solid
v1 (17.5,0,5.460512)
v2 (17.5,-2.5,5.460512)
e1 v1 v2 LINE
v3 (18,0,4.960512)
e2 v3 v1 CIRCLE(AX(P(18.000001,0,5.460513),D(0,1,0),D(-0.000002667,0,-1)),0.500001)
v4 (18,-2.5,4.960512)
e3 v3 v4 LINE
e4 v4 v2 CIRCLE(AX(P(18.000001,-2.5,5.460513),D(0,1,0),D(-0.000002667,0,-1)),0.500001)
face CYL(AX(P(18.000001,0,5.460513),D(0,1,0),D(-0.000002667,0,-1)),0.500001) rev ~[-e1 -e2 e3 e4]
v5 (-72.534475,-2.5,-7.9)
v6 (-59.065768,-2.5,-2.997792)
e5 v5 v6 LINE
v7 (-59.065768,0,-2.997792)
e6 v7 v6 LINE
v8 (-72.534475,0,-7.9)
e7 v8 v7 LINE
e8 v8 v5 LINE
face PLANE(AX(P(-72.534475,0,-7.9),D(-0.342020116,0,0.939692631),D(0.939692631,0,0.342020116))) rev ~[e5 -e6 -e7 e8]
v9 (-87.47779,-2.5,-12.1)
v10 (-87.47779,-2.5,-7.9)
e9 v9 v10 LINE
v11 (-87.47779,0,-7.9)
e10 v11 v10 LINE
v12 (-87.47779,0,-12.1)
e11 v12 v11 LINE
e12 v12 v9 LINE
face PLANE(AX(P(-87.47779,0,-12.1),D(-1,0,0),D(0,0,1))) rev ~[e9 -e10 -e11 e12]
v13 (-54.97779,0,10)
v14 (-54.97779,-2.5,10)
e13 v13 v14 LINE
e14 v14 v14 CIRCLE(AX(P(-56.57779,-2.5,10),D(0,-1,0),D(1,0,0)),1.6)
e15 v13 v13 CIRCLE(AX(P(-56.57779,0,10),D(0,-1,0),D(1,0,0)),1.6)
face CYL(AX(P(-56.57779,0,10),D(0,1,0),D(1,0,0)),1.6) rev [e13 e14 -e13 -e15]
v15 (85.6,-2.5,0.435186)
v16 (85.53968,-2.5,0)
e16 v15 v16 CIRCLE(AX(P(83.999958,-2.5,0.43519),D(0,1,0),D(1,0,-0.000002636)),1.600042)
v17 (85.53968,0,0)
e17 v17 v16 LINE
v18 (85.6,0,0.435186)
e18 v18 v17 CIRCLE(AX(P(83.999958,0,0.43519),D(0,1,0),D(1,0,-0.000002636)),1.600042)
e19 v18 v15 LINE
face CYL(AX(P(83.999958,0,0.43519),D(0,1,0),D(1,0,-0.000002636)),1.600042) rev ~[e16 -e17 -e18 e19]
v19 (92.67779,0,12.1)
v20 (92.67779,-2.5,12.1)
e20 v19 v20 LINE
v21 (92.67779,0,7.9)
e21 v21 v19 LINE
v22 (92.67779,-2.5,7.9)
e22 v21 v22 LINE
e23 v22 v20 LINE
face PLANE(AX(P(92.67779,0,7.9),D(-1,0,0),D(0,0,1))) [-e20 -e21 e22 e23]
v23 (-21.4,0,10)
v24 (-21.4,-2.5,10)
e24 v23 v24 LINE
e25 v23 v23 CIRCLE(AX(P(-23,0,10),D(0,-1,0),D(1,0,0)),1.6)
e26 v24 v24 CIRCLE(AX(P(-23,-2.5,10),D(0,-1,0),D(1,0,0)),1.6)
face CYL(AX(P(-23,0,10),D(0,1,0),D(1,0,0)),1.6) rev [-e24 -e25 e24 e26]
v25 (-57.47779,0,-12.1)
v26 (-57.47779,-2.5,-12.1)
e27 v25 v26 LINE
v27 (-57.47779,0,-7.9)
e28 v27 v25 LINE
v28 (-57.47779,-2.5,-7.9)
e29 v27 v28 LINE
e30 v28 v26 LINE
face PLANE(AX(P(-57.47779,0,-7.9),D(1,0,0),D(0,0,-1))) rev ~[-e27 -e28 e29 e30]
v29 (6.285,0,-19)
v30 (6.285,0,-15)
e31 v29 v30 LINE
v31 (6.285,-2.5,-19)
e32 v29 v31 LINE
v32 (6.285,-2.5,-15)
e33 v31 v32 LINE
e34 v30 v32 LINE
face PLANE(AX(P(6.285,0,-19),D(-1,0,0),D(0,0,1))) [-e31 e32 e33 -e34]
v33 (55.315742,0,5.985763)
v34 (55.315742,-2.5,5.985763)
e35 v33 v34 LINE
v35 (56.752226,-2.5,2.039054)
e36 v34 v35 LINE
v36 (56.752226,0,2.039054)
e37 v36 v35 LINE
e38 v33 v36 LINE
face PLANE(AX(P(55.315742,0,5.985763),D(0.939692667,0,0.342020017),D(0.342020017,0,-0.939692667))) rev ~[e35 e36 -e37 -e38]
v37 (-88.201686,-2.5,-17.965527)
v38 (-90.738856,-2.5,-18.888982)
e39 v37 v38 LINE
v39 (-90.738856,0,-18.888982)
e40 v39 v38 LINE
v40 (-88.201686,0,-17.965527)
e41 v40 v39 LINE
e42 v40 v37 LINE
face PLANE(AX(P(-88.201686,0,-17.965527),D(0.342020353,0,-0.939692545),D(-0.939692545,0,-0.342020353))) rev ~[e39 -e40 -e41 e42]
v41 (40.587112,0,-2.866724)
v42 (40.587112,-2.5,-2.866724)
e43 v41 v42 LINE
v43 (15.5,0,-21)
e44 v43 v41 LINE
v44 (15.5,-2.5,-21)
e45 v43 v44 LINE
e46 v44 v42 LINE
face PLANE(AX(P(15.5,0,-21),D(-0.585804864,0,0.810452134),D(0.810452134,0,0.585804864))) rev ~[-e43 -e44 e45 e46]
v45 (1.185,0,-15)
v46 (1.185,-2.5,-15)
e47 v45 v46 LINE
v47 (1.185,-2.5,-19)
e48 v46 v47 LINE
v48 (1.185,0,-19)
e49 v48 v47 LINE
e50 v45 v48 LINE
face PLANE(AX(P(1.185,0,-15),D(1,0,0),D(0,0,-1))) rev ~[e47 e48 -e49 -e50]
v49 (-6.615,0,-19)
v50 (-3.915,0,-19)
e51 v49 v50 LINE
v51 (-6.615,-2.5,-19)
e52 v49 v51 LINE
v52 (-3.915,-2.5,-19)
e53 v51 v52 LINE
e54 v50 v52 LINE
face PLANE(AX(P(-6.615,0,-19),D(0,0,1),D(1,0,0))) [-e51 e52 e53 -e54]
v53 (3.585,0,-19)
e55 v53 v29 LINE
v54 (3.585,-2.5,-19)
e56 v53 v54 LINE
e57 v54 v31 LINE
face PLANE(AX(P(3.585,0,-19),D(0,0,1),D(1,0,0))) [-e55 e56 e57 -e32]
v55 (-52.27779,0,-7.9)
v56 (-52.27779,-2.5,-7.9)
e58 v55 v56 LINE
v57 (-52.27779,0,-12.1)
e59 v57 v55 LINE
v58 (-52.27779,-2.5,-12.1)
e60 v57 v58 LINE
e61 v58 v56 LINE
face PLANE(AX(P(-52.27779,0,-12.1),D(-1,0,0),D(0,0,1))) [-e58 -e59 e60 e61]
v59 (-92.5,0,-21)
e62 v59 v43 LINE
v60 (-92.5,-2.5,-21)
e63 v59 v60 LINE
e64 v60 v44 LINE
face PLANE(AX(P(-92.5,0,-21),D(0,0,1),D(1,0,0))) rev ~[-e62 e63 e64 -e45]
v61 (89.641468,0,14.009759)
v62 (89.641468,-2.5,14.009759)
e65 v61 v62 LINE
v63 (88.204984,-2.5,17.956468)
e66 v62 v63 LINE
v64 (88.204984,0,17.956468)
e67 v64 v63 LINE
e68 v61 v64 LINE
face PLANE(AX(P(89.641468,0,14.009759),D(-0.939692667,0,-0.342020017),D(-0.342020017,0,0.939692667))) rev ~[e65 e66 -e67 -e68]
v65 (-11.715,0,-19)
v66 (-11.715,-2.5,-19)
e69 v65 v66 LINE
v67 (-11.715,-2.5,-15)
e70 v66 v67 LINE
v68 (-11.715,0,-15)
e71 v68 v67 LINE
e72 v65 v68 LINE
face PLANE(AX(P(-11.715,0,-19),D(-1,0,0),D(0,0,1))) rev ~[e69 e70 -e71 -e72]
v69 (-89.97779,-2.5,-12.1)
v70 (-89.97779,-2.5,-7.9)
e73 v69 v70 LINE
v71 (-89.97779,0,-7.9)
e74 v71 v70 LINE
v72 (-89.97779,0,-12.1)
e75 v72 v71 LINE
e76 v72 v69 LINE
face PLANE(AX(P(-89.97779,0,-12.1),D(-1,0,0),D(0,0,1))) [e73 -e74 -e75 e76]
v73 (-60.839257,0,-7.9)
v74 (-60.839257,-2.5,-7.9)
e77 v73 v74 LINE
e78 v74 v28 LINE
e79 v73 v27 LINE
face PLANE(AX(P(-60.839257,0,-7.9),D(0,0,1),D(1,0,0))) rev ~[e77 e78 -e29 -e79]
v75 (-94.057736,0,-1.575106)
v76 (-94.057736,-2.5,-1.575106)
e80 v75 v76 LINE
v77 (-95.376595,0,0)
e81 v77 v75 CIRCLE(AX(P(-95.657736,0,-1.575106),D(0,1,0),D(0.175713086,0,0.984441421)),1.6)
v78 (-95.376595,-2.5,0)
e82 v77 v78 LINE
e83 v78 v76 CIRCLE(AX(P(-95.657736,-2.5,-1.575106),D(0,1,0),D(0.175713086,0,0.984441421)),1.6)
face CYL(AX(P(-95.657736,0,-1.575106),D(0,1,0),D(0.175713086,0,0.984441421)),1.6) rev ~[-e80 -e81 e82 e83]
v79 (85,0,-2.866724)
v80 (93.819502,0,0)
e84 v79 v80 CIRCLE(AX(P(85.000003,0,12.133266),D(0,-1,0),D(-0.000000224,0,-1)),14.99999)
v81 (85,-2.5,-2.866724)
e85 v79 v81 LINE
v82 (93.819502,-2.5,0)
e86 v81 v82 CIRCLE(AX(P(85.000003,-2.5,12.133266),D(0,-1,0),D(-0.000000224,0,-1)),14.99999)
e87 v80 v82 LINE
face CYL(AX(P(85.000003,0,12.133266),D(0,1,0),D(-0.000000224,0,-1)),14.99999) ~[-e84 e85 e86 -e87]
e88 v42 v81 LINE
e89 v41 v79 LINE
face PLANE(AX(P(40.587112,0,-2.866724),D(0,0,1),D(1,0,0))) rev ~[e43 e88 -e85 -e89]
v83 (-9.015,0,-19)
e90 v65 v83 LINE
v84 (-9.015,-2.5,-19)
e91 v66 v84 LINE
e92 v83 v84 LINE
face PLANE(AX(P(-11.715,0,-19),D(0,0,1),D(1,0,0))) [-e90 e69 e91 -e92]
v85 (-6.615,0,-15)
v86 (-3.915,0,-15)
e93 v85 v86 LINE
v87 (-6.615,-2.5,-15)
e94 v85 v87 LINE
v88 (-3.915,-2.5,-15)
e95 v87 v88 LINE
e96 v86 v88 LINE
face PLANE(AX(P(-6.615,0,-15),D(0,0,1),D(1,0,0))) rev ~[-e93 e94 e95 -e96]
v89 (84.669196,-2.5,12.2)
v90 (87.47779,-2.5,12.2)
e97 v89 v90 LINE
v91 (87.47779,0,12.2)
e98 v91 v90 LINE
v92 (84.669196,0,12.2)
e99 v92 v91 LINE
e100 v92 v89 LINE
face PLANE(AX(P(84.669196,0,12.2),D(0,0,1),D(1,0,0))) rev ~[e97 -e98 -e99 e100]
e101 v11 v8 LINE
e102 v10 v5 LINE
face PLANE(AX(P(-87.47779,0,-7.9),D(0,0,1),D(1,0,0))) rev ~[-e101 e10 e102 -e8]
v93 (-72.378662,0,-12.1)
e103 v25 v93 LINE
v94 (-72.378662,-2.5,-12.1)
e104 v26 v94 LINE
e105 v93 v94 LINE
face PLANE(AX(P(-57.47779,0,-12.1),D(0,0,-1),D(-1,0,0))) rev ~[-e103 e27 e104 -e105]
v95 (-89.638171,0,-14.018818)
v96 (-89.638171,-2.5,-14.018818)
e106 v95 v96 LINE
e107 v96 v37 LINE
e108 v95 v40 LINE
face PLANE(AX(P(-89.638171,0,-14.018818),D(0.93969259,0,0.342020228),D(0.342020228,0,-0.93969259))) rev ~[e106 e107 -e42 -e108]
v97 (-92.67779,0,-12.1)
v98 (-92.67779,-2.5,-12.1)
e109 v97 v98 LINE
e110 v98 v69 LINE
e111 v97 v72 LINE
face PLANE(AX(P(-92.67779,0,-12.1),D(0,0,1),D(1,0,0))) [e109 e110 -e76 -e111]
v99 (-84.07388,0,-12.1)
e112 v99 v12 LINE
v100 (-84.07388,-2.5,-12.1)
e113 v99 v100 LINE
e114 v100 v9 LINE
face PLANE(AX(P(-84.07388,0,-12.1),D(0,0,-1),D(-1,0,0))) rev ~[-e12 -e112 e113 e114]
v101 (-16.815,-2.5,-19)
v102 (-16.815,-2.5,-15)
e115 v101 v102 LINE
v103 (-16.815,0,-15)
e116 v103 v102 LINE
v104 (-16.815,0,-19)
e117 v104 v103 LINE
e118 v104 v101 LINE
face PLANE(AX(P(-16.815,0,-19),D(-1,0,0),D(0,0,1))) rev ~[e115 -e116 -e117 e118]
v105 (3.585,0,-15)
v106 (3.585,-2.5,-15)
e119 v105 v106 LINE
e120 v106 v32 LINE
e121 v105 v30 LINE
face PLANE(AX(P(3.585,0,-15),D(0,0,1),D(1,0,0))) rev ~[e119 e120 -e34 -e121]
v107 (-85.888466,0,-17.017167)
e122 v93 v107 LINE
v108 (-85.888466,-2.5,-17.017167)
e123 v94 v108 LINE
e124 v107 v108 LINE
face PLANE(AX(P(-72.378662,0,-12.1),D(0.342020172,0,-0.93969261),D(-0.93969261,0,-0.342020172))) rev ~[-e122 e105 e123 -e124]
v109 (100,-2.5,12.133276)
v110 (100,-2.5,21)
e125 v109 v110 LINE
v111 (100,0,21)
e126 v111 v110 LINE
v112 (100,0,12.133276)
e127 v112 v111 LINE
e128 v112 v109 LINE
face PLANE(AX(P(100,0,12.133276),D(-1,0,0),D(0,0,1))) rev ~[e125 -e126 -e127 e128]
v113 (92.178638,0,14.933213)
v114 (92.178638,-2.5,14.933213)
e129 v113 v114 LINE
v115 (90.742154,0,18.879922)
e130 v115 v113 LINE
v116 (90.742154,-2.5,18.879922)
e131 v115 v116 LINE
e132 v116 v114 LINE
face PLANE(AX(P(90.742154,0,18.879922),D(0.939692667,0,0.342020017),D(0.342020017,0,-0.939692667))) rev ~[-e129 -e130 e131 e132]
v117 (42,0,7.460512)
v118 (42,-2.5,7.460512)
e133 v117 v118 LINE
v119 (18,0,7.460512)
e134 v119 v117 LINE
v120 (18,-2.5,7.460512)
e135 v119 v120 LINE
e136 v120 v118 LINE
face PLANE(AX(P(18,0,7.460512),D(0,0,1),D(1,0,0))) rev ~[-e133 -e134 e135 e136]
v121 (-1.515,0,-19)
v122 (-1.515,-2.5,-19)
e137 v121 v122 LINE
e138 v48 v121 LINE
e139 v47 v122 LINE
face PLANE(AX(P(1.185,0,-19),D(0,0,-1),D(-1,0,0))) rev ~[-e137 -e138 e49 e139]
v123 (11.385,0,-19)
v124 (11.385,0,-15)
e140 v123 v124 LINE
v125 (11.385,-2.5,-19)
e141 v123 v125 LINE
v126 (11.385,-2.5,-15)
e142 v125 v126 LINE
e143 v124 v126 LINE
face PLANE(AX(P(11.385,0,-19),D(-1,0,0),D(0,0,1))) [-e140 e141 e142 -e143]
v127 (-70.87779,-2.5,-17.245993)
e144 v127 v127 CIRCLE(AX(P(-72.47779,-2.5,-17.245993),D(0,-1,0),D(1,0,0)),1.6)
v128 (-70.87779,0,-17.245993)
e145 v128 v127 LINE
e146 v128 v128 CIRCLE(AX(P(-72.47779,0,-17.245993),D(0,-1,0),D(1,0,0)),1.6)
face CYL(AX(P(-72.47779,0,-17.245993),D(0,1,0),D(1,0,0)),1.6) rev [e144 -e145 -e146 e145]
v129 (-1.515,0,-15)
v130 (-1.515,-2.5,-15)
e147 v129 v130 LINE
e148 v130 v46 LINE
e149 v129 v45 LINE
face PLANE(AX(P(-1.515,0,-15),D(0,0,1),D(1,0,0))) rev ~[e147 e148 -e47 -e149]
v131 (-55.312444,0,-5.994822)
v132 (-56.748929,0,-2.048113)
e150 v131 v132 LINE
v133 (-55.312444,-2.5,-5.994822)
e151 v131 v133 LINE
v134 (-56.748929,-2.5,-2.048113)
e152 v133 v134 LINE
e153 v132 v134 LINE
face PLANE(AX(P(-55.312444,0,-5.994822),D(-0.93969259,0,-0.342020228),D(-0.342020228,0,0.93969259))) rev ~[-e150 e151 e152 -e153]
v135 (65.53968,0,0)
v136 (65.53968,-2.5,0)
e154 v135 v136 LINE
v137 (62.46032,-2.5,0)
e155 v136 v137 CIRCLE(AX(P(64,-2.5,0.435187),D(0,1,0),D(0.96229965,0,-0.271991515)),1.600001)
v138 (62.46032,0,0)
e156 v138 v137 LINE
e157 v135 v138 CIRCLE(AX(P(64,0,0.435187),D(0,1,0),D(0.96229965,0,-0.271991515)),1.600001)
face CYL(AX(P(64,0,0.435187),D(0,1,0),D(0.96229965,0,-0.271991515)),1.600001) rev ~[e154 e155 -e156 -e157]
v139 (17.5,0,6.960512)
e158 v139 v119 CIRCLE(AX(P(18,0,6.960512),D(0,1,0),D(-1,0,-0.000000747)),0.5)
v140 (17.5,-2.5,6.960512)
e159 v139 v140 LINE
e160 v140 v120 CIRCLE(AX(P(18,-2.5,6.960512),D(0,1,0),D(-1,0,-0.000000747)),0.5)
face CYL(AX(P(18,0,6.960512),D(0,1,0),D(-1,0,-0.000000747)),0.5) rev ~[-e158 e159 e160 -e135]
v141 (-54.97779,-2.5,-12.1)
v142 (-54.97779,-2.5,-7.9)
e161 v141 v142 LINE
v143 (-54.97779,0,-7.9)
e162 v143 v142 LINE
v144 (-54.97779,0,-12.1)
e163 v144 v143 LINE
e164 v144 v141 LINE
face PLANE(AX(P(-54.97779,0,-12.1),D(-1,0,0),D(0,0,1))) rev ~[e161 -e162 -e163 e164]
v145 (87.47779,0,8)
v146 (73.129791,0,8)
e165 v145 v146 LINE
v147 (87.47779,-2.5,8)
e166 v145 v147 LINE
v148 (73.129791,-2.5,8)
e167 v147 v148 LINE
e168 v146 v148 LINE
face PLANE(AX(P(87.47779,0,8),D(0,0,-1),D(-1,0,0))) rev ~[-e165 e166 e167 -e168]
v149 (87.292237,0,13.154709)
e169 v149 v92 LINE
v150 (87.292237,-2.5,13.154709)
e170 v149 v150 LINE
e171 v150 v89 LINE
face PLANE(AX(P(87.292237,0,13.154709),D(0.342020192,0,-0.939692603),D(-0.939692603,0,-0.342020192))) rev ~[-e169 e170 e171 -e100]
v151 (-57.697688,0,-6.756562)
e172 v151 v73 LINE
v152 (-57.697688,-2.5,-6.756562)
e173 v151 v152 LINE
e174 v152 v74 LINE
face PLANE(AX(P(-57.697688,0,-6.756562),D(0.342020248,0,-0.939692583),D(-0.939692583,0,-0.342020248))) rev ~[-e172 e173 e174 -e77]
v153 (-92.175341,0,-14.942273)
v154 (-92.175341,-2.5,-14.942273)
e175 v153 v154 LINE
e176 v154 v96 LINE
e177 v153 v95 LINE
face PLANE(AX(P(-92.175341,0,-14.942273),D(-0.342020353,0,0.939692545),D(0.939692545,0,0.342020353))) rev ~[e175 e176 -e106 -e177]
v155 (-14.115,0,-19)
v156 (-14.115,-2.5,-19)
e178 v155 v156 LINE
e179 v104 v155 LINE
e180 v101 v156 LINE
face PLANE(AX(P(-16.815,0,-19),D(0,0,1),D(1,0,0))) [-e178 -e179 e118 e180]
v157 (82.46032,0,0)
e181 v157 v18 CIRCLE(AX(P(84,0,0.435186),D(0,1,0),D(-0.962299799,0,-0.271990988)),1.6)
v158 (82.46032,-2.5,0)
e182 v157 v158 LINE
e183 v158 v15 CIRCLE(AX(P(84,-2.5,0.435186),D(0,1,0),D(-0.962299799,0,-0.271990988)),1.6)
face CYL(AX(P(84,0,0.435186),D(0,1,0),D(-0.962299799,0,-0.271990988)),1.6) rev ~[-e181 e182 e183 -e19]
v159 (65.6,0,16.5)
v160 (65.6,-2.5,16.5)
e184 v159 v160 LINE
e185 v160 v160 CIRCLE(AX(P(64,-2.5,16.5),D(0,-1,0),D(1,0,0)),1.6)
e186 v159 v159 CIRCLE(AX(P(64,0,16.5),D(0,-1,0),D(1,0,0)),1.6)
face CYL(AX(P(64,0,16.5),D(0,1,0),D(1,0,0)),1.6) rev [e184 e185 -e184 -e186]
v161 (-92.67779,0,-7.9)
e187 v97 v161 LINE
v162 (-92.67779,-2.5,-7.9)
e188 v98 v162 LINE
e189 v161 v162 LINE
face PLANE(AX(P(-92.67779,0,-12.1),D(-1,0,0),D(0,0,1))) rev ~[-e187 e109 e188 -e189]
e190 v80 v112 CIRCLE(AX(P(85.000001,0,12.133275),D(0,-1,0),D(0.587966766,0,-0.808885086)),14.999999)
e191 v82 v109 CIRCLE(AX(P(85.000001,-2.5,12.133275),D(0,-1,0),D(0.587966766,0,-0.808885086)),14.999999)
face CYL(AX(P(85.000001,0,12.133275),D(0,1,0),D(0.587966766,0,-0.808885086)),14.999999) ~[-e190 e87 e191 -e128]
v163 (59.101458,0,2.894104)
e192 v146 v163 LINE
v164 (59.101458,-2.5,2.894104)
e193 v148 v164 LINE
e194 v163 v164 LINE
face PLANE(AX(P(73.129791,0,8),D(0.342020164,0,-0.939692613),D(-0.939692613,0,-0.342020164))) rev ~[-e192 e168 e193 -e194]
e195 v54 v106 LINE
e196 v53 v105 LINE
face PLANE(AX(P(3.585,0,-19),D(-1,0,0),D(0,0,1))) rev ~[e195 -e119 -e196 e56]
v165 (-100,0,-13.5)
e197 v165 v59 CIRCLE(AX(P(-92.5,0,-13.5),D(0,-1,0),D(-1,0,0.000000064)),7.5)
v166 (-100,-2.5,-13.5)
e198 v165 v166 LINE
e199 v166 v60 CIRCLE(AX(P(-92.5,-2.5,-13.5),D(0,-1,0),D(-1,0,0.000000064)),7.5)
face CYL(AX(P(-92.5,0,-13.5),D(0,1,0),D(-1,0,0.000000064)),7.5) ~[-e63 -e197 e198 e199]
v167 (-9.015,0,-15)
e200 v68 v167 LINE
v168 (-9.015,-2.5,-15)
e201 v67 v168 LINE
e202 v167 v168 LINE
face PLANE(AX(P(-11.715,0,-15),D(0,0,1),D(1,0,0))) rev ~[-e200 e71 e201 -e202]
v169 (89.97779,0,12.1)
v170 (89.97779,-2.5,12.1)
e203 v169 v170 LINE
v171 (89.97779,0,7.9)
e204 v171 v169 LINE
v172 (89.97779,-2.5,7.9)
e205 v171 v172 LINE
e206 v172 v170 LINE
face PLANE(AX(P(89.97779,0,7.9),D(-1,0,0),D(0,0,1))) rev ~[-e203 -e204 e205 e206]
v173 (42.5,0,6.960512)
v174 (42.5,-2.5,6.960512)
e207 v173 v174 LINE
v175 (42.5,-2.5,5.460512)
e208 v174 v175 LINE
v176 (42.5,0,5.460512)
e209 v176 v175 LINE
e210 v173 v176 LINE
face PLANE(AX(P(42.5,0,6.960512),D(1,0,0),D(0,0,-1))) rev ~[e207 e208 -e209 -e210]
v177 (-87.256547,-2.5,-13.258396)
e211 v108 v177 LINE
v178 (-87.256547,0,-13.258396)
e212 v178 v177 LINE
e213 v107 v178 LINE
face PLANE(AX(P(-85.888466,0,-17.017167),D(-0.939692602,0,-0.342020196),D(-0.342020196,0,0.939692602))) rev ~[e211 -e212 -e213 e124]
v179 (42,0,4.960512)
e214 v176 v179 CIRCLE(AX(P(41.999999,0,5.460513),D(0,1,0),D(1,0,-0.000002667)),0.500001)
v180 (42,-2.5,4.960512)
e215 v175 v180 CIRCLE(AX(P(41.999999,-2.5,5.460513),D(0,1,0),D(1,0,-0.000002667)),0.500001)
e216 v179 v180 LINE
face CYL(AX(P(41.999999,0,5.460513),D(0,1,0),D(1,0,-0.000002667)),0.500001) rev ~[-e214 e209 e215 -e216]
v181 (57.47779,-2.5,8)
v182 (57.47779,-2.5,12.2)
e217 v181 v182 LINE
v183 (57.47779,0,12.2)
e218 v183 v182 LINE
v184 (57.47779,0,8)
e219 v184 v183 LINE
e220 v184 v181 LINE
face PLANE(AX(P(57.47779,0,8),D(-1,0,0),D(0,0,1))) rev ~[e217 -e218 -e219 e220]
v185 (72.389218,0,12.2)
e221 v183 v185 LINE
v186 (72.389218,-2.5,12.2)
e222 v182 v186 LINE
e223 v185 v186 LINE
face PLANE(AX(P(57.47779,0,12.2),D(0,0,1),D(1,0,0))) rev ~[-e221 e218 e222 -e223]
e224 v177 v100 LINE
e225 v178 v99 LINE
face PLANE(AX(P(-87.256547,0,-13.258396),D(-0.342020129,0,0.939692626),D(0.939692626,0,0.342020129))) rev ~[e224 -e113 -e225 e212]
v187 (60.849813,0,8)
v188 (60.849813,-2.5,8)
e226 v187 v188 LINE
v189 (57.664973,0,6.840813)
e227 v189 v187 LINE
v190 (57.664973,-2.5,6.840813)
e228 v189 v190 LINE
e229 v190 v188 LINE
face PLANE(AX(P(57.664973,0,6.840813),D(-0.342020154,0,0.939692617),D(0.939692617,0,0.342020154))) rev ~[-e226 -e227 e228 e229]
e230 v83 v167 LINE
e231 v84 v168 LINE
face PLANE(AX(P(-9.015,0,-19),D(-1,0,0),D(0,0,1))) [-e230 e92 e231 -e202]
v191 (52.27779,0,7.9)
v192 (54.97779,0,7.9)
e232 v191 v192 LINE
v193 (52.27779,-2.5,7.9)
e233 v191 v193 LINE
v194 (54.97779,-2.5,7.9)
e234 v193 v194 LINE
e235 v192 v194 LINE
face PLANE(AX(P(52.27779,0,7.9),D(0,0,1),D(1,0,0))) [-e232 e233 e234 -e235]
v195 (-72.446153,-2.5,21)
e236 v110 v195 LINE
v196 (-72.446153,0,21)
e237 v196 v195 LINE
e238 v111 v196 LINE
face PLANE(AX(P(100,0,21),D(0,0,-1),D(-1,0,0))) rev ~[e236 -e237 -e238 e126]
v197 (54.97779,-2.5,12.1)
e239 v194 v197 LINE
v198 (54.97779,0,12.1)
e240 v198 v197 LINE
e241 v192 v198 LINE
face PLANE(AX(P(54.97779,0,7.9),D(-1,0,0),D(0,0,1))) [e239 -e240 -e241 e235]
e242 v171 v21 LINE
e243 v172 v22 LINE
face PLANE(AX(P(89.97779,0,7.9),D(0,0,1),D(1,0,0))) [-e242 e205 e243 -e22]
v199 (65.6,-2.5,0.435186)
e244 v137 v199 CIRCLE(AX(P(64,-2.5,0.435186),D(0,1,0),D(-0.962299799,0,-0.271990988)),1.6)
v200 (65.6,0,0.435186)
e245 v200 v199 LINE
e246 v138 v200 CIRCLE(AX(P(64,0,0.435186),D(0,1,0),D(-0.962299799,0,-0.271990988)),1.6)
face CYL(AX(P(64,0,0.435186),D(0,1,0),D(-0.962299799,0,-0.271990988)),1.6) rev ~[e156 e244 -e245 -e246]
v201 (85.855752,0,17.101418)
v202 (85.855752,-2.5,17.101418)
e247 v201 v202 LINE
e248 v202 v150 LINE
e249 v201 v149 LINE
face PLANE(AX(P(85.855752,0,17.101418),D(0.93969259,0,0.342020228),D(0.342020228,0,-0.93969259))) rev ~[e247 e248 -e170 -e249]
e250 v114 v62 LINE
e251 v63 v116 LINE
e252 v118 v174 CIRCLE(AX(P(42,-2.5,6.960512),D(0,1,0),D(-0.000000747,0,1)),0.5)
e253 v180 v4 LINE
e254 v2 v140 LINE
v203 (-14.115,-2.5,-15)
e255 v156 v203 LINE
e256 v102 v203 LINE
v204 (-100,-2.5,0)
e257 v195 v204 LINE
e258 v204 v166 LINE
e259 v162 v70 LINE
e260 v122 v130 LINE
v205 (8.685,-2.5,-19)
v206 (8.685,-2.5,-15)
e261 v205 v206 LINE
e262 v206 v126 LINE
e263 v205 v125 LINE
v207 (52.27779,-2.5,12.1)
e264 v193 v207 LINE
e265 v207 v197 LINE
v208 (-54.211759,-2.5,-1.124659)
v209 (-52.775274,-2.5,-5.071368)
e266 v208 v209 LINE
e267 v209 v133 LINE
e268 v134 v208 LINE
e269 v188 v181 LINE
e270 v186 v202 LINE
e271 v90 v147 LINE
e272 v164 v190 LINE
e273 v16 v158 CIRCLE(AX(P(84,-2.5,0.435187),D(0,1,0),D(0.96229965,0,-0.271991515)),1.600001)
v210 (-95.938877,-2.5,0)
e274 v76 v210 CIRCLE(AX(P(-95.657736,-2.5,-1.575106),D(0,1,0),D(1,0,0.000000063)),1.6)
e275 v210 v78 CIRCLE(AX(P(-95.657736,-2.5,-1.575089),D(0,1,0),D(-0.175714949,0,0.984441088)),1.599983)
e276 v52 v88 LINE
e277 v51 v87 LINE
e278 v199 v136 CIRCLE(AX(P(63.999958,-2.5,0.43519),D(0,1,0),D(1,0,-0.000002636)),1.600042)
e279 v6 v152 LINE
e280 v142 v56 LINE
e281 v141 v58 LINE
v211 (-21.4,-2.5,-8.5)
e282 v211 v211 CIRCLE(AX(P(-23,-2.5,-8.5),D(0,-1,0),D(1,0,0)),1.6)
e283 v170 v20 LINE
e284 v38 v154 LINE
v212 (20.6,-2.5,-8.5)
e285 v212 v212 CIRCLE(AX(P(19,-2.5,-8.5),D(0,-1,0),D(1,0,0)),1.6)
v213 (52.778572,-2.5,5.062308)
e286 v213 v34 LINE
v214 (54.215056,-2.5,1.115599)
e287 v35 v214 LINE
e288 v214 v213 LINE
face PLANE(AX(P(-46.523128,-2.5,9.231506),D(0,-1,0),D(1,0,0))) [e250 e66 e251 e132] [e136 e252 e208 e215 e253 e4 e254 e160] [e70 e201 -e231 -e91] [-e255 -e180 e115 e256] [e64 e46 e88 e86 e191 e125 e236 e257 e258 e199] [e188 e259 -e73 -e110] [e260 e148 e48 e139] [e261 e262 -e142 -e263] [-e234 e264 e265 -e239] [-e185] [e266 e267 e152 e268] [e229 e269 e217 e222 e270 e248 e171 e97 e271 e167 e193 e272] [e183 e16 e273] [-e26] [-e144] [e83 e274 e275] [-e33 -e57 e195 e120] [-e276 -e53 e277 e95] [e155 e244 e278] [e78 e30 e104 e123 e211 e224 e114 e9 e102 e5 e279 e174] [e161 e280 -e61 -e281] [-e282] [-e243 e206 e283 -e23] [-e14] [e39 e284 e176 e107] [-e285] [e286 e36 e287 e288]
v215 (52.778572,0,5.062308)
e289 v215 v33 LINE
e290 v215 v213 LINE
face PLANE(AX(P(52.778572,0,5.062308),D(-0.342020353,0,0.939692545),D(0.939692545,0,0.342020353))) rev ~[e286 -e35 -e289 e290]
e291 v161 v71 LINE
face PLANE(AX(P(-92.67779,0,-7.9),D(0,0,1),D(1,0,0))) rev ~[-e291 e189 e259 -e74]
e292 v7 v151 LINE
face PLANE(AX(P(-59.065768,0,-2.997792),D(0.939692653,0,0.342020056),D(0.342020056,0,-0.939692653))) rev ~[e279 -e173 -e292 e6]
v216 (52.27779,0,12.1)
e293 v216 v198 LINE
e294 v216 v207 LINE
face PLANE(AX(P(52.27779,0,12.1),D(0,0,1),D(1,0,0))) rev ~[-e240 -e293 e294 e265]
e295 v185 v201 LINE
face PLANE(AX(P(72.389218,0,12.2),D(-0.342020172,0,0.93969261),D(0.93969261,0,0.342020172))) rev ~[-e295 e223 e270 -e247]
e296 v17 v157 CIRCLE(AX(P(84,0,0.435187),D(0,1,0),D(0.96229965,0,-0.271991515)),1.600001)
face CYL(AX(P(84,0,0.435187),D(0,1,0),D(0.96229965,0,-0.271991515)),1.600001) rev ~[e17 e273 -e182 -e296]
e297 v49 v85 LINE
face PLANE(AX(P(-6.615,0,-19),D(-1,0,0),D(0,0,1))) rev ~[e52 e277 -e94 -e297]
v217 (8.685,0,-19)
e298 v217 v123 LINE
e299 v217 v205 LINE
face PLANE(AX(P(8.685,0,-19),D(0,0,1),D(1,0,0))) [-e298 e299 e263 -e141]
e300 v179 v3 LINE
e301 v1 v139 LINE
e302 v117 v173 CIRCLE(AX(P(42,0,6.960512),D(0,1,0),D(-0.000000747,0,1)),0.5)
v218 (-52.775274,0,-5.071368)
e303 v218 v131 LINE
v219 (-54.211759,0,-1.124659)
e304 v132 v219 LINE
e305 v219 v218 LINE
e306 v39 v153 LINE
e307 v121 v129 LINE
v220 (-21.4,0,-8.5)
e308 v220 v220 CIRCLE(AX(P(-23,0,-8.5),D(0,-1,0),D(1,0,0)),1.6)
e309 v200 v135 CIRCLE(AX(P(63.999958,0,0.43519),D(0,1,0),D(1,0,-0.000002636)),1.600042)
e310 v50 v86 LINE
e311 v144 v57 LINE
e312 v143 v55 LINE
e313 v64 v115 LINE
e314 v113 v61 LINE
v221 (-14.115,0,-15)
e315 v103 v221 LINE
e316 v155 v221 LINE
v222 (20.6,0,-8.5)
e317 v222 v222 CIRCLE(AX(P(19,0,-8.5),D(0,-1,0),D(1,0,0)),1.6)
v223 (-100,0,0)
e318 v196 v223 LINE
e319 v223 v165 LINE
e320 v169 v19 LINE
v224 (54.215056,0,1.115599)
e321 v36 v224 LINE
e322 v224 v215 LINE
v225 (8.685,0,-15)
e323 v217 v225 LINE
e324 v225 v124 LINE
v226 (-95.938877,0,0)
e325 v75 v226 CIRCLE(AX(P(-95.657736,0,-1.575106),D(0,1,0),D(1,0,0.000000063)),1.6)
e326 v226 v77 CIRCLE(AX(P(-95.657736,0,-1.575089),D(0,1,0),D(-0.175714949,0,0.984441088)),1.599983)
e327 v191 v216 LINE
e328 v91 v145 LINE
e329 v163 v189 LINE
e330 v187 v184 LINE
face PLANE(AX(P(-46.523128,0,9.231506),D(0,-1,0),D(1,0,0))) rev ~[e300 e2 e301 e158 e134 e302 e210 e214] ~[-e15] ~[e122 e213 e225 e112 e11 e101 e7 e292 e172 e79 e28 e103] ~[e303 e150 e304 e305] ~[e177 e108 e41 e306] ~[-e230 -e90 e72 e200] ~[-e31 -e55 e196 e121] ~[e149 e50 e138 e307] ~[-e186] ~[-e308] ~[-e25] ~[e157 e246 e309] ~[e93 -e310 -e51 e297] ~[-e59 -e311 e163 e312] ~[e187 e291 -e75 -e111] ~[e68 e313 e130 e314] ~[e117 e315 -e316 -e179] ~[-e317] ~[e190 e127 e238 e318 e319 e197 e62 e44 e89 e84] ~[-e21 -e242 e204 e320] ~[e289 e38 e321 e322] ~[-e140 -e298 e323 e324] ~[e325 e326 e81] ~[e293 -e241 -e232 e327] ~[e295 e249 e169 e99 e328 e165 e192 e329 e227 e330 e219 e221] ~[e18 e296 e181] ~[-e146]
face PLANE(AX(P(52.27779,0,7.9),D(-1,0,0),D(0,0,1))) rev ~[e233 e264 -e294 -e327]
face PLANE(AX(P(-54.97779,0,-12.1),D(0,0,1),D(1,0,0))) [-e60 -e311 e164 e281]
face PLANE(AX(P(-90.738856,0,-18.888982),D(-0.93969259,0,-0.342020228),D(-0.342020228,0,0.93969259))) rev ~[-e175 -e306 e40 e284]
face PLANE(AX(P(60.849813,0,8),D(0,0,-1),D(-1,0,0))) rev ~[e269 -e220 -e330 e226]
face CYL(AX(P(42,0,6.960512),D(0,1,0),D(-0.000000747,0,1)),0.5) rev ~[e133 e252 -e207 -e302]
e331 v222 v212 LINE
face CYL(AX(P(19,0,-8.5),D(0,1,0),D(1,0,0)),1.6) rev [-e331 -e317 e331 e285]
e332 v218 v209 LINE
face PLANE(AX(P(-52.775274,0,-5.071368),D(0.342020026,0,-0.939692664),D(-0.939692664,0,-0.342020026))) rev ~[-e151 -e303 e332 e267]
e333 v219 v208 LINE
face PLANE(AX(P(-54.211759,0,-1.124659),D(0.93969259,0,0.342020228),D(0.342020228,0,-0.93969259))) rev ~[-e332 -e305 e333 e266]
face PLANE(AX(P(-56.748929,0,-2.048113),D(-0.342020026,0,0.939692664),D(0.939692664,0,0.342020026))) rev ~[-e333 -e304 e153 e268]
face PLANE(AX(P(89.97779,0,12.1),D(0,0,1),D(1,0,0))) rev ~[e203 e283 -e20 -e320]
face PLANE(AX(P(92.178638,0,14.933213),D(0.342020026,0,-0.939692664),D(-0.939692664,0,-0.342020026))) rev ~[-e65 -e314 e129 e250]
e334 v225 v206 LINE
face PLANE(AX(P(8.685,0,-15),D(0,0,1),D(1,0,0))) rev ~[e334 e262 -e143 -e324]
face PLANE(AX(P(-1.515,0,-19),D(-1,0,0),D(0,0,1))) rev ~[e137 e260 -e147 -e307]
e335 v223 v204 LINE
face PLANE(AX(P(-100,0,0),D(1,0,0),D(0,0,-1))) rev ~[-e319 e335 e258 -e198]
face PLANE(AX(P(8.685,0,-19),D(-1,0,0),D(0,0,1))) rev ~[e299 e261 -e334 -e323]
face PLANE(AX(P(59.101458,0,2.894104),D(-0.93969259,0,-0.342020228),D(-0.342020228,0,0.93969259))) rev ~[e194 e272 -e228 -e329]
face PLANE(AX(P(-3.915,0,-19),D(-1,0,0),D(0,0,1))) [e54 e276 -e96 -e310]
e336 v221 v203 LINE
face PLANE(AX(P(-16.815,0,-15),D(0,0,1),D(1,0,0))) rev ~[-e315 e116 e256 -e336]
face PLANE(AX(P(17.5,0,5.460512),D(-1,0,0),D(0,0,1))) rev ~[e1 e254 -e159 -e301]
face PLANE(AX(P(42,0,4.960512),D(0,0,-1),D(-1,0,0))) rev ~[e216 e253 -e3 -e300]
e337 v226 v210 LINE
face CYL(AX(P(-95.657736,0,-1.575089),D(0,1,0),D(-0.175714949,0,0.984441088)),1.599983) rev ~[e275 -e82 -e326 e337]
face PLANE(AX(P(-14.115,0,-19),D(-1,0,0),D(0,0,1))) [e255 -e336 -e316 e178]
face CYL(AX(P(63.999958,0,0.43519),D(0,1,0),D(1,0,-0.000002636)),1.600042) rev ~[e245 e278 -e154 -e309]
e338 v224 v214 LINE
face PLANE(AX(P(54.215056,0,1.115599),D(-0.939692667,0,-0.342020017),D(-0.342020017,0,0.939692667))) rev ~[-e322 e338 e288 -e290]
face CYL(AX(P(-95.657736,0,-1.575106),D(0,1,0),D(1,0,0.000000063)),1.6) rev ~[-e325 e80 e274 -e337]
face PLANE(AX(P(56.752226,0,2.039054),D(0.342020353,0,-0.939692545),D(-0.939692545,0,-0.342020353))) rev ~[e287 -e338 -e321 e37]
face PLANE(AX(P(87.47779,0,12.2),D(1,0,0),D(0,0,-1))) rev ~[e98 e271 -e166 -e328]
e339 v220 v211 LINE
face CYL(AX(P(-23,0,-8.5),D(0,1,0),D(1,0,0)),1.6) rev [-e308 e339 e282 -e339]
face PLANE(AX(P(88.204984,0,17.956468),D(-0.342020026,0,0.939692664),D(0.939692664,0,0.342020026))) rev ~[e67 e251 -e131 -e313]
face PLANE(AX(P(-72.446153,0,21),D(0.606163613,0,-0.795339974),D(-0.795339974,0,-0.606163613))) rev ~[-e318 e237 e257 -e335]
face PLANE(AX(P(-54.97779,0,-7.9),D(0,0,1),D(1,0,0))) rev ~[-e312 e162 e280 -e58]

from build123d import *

# Parameters (mm, degrees)
F0_R     = 1.6
F0_W     = 2.7
F0_H     = 4
F0_H_2   = 4.2
F1_DEPTH = 2.5


with BuildPart() as f1:
    # F0 (on Front) → F1 (new body)
    with BuildSketch(Plane.XZ):
        with BuildLine():
            Line((-72.446153, 21), (-100, 0))
            Line((-100, 0), (-95.938877, 0))
            ThreePointArc((-95.938877, 0), (-95.657736, 0.024894), (-95.376595, 0))
            Line((-95.376595, 0), (0, 0))
            Line((0, 0), (0, 21))
            Line((0, 21), (-15.5, 21))
            Line((-15.5, 21), (-72.446153, 21))
        make_face()
        with Locations((-56.57779, 10)):
            Circle(F0_R, mode=Mode.SUBTRACT)
        with Locations((-23, 10)):
            Circle(F0_R, mode=Mode.SUBTRACT)
        with BuildLine():
            Line((-95.938877, 0), (-100, 0))
            Line((-100, 0), (-100, -13.5))
            ThreePointArc((-100, -13.5), (-97.803301, -18.803301), (-92.5, -21))
            Line((-92.5, -21), (0, -21))
            Line((0, -21), (0, -19))
            Line((0, -19), (-1.515, -19))
            Line((-1.515, -19), (-1.515, -15))
            Line((-1.515, -15), (0, -15))
            Line((0, -15), (0, 0))
            Line((0, 0), (-95.376595, 0))
            ThreePointArc((-95.376595, 0), (-94.430987, -0.547932), (-94.057736, -1.575106))
            ThreePointArc((-94.057736, -1.575106), (-96.68491, -2.801855), (-95.938877, 0))
        make_face()
        Polygon((-92.175341, -14.942273), (-89.638171, -14.018818), (-88.201686, -17.965527), (-90.738856, -18.888982), align=None, mode=Mode.SUBTRACT)
        with Locations((-72.47779, -17.245993)):
            Circle(F0_R, mode=Mode.SUBTRACT)
        with Locations((-15.465, -17)):
            Rectangle(F0_W, F0_H, mode=Mode.SUBTRACT)
        with Locations((-10.365, -17)):
            Rectangle(F0_W, F0_H, mode=Mode.SUBTRACT)
        with Locations((-5.265, -17)):
            Rectangle(F0_W, F0_H, mode=Mode.SUBTRACT)
        with Locations((-91.32779, -10)):
            Rectangle(F0_W, F0_H_2, mode=Mode.SUBTRACT)
        Polygon((-87.47779, -12.1), (-87.47779, -7.9), (-72.534475, -7.9), (-59.065768, -2.997792), (-57.697688, -6.756562), (-60.839257, -7.9), (-57.47779, -7.9), (-57.47779, -12.1), (-72.378662, -12.1), (-85.888466, -17.017167), (-87.256547, -13.258396), (-84.07388, -12.1), align=None, mode=Mode.SUBTRACT)
        with Locations((-53.62779, -10)):
            Rectangle(F0_W, F0_H_2, mode=Mode.SUBTRACT)
        Polygon((-56.748929, -2.048113), (-54.211759, -1.124659), (-52.775274, -5.071368), (-55.312444, -5.994822), align=None, mode=Mode.SUBTRACT)
        with Locations((-23, -8.5)):
            Circle(F0_R, mode=Mode.SUBTRACT)
        with BuildLine():
            Line((62.46032, 0), (0, 0))
            Line((0, 0), (0, -15))
            Line((0, -15), (1.185, -15))
            Line((1.185, -15), (1.185, -19))
            Line((1.185, -19), (0, -19))
            Line((0, -19), (0, -21))
            Line((0, -21), (15.5, -21))
            Line((15.5, -21), (40.587112, -2.866724))
            Line((40.587112, -2.866724), (85, -2.866724))
            ThreePointArc((85, -2.866724), (89.636856, -2.132052), (93.819502, 0))
            Line((93.819502, 0), (85.53968, 0))
            ThreePointArc((85.53968, 0), (84, -1.164814), (82.46032, 0))
            Line((82.46032, 0), (65.53968, 0))
            ThreePointArc((65.53968, 0), (64, -1.164814), (62.46032, 0))
        make_face()
        with Locations((4.935, -17)):
            Rectangle(F0_W, F0_H, mode=Mode.SUBTRACT)
        with Locations((10.035, -17)):
            Rectangle(F0_W, F0_H, mode=Mode.SUBTRACT)
        with Locations((19, -8.5)):
            Circle(F0_R, mode=Mode.SUBTRACT)
        with BuildLine():
            Line((0, 21), (0, 0))
            Line((0, 0), (62.46032, 0))
            ThreePointArc((62.46032, 0), (63.780327, 2.020034), (65.6, 0.435186))
            ThreePointArc((65.6, 0.435186), (65.584848, 0.215513), (65.53968, 0))
            Line((65.53968, 0), (82.46032, 0))
            ThreePointArc((82.46032, 0), (83.780327, 2.020034), (85.6, 0.435186))
            ThreePointArc((85.6, 0.435186), (85.584848, 0.215513), (85.53968, 0))
            Line((85.53968, 0), (93.819502, 0))
            ThreePointArc((93.819502, 0), (98.365862, 5.324918), (100, 12.133276))
            Line((100, 12.133276), (100, 21))
            Line((100, 21), (0, 21))
        make_face()
        with BuildLine():
            Line((18, 7.460512), (42, 7.460512))
            ThreePointArc((42, 7.460512), (42.353553, 7.314066), (42.5, 6.960512))
            Line((42.5, 6.960512), (42.5, 5.460512))
            ThreePointArc((42.5, 5.460512), (42.353553, 5.106959), (42, 4.960512))
            Line((42, 4.960512), (18, 4.960512))
            ThreePointArc((18, 4.960512), (17.646447, 5.106959), (17.5, 5.460512))
            Line((17.5, 5.460512), (17.5, 6.960512))
            ThreePointArc((17.5, 6.960512), (17.646447, 7.314066), (18, 7.460512))
        make_face(mode=Mode.SUBTRACT)
        Polygon((56.752226, 2.039054), (54.215056, 1.115599), (52.778572, 5.062308), (55.315742, 5.985763), align=None, mode=Mode.SUBTRACT)
        with Locations((53.62779, 10)):
            Rectangle(F0_W, F0_H_2, mode=Mode.SUBTRACT)
        Polygon((57.47779, 8), (57.47779, 12.2), (72.389218, 12.2), (85.855752, 17.101418), (87.292237, 13.154709), (84.669196, 12.2), (87.47779, 12.2), (87.47779, 8), (73.129791, 8), (59.101458, 2.894104), (57.664973, 6.840813), (60.849813, 8), align=None, mode=Mode.SUBTRACT)
        with Locations((91.32779, 10)):
            Rectangle(F0_W, F0_H_2, mode=Mode.SUBTRACT)
        with Locations((64, 16.5)):
            Circle(F0_R, mode=Mode.SUBTRACT)
        Polygon((88.204984, 17.956468), (90.742154, 18.879922), (92.178638, 14.933213), (89.641468, 14.009759), align=None, mode=Mode.SUBTRACT)
    extrude(amount=F1_DEPTH)


solid = f1.part
